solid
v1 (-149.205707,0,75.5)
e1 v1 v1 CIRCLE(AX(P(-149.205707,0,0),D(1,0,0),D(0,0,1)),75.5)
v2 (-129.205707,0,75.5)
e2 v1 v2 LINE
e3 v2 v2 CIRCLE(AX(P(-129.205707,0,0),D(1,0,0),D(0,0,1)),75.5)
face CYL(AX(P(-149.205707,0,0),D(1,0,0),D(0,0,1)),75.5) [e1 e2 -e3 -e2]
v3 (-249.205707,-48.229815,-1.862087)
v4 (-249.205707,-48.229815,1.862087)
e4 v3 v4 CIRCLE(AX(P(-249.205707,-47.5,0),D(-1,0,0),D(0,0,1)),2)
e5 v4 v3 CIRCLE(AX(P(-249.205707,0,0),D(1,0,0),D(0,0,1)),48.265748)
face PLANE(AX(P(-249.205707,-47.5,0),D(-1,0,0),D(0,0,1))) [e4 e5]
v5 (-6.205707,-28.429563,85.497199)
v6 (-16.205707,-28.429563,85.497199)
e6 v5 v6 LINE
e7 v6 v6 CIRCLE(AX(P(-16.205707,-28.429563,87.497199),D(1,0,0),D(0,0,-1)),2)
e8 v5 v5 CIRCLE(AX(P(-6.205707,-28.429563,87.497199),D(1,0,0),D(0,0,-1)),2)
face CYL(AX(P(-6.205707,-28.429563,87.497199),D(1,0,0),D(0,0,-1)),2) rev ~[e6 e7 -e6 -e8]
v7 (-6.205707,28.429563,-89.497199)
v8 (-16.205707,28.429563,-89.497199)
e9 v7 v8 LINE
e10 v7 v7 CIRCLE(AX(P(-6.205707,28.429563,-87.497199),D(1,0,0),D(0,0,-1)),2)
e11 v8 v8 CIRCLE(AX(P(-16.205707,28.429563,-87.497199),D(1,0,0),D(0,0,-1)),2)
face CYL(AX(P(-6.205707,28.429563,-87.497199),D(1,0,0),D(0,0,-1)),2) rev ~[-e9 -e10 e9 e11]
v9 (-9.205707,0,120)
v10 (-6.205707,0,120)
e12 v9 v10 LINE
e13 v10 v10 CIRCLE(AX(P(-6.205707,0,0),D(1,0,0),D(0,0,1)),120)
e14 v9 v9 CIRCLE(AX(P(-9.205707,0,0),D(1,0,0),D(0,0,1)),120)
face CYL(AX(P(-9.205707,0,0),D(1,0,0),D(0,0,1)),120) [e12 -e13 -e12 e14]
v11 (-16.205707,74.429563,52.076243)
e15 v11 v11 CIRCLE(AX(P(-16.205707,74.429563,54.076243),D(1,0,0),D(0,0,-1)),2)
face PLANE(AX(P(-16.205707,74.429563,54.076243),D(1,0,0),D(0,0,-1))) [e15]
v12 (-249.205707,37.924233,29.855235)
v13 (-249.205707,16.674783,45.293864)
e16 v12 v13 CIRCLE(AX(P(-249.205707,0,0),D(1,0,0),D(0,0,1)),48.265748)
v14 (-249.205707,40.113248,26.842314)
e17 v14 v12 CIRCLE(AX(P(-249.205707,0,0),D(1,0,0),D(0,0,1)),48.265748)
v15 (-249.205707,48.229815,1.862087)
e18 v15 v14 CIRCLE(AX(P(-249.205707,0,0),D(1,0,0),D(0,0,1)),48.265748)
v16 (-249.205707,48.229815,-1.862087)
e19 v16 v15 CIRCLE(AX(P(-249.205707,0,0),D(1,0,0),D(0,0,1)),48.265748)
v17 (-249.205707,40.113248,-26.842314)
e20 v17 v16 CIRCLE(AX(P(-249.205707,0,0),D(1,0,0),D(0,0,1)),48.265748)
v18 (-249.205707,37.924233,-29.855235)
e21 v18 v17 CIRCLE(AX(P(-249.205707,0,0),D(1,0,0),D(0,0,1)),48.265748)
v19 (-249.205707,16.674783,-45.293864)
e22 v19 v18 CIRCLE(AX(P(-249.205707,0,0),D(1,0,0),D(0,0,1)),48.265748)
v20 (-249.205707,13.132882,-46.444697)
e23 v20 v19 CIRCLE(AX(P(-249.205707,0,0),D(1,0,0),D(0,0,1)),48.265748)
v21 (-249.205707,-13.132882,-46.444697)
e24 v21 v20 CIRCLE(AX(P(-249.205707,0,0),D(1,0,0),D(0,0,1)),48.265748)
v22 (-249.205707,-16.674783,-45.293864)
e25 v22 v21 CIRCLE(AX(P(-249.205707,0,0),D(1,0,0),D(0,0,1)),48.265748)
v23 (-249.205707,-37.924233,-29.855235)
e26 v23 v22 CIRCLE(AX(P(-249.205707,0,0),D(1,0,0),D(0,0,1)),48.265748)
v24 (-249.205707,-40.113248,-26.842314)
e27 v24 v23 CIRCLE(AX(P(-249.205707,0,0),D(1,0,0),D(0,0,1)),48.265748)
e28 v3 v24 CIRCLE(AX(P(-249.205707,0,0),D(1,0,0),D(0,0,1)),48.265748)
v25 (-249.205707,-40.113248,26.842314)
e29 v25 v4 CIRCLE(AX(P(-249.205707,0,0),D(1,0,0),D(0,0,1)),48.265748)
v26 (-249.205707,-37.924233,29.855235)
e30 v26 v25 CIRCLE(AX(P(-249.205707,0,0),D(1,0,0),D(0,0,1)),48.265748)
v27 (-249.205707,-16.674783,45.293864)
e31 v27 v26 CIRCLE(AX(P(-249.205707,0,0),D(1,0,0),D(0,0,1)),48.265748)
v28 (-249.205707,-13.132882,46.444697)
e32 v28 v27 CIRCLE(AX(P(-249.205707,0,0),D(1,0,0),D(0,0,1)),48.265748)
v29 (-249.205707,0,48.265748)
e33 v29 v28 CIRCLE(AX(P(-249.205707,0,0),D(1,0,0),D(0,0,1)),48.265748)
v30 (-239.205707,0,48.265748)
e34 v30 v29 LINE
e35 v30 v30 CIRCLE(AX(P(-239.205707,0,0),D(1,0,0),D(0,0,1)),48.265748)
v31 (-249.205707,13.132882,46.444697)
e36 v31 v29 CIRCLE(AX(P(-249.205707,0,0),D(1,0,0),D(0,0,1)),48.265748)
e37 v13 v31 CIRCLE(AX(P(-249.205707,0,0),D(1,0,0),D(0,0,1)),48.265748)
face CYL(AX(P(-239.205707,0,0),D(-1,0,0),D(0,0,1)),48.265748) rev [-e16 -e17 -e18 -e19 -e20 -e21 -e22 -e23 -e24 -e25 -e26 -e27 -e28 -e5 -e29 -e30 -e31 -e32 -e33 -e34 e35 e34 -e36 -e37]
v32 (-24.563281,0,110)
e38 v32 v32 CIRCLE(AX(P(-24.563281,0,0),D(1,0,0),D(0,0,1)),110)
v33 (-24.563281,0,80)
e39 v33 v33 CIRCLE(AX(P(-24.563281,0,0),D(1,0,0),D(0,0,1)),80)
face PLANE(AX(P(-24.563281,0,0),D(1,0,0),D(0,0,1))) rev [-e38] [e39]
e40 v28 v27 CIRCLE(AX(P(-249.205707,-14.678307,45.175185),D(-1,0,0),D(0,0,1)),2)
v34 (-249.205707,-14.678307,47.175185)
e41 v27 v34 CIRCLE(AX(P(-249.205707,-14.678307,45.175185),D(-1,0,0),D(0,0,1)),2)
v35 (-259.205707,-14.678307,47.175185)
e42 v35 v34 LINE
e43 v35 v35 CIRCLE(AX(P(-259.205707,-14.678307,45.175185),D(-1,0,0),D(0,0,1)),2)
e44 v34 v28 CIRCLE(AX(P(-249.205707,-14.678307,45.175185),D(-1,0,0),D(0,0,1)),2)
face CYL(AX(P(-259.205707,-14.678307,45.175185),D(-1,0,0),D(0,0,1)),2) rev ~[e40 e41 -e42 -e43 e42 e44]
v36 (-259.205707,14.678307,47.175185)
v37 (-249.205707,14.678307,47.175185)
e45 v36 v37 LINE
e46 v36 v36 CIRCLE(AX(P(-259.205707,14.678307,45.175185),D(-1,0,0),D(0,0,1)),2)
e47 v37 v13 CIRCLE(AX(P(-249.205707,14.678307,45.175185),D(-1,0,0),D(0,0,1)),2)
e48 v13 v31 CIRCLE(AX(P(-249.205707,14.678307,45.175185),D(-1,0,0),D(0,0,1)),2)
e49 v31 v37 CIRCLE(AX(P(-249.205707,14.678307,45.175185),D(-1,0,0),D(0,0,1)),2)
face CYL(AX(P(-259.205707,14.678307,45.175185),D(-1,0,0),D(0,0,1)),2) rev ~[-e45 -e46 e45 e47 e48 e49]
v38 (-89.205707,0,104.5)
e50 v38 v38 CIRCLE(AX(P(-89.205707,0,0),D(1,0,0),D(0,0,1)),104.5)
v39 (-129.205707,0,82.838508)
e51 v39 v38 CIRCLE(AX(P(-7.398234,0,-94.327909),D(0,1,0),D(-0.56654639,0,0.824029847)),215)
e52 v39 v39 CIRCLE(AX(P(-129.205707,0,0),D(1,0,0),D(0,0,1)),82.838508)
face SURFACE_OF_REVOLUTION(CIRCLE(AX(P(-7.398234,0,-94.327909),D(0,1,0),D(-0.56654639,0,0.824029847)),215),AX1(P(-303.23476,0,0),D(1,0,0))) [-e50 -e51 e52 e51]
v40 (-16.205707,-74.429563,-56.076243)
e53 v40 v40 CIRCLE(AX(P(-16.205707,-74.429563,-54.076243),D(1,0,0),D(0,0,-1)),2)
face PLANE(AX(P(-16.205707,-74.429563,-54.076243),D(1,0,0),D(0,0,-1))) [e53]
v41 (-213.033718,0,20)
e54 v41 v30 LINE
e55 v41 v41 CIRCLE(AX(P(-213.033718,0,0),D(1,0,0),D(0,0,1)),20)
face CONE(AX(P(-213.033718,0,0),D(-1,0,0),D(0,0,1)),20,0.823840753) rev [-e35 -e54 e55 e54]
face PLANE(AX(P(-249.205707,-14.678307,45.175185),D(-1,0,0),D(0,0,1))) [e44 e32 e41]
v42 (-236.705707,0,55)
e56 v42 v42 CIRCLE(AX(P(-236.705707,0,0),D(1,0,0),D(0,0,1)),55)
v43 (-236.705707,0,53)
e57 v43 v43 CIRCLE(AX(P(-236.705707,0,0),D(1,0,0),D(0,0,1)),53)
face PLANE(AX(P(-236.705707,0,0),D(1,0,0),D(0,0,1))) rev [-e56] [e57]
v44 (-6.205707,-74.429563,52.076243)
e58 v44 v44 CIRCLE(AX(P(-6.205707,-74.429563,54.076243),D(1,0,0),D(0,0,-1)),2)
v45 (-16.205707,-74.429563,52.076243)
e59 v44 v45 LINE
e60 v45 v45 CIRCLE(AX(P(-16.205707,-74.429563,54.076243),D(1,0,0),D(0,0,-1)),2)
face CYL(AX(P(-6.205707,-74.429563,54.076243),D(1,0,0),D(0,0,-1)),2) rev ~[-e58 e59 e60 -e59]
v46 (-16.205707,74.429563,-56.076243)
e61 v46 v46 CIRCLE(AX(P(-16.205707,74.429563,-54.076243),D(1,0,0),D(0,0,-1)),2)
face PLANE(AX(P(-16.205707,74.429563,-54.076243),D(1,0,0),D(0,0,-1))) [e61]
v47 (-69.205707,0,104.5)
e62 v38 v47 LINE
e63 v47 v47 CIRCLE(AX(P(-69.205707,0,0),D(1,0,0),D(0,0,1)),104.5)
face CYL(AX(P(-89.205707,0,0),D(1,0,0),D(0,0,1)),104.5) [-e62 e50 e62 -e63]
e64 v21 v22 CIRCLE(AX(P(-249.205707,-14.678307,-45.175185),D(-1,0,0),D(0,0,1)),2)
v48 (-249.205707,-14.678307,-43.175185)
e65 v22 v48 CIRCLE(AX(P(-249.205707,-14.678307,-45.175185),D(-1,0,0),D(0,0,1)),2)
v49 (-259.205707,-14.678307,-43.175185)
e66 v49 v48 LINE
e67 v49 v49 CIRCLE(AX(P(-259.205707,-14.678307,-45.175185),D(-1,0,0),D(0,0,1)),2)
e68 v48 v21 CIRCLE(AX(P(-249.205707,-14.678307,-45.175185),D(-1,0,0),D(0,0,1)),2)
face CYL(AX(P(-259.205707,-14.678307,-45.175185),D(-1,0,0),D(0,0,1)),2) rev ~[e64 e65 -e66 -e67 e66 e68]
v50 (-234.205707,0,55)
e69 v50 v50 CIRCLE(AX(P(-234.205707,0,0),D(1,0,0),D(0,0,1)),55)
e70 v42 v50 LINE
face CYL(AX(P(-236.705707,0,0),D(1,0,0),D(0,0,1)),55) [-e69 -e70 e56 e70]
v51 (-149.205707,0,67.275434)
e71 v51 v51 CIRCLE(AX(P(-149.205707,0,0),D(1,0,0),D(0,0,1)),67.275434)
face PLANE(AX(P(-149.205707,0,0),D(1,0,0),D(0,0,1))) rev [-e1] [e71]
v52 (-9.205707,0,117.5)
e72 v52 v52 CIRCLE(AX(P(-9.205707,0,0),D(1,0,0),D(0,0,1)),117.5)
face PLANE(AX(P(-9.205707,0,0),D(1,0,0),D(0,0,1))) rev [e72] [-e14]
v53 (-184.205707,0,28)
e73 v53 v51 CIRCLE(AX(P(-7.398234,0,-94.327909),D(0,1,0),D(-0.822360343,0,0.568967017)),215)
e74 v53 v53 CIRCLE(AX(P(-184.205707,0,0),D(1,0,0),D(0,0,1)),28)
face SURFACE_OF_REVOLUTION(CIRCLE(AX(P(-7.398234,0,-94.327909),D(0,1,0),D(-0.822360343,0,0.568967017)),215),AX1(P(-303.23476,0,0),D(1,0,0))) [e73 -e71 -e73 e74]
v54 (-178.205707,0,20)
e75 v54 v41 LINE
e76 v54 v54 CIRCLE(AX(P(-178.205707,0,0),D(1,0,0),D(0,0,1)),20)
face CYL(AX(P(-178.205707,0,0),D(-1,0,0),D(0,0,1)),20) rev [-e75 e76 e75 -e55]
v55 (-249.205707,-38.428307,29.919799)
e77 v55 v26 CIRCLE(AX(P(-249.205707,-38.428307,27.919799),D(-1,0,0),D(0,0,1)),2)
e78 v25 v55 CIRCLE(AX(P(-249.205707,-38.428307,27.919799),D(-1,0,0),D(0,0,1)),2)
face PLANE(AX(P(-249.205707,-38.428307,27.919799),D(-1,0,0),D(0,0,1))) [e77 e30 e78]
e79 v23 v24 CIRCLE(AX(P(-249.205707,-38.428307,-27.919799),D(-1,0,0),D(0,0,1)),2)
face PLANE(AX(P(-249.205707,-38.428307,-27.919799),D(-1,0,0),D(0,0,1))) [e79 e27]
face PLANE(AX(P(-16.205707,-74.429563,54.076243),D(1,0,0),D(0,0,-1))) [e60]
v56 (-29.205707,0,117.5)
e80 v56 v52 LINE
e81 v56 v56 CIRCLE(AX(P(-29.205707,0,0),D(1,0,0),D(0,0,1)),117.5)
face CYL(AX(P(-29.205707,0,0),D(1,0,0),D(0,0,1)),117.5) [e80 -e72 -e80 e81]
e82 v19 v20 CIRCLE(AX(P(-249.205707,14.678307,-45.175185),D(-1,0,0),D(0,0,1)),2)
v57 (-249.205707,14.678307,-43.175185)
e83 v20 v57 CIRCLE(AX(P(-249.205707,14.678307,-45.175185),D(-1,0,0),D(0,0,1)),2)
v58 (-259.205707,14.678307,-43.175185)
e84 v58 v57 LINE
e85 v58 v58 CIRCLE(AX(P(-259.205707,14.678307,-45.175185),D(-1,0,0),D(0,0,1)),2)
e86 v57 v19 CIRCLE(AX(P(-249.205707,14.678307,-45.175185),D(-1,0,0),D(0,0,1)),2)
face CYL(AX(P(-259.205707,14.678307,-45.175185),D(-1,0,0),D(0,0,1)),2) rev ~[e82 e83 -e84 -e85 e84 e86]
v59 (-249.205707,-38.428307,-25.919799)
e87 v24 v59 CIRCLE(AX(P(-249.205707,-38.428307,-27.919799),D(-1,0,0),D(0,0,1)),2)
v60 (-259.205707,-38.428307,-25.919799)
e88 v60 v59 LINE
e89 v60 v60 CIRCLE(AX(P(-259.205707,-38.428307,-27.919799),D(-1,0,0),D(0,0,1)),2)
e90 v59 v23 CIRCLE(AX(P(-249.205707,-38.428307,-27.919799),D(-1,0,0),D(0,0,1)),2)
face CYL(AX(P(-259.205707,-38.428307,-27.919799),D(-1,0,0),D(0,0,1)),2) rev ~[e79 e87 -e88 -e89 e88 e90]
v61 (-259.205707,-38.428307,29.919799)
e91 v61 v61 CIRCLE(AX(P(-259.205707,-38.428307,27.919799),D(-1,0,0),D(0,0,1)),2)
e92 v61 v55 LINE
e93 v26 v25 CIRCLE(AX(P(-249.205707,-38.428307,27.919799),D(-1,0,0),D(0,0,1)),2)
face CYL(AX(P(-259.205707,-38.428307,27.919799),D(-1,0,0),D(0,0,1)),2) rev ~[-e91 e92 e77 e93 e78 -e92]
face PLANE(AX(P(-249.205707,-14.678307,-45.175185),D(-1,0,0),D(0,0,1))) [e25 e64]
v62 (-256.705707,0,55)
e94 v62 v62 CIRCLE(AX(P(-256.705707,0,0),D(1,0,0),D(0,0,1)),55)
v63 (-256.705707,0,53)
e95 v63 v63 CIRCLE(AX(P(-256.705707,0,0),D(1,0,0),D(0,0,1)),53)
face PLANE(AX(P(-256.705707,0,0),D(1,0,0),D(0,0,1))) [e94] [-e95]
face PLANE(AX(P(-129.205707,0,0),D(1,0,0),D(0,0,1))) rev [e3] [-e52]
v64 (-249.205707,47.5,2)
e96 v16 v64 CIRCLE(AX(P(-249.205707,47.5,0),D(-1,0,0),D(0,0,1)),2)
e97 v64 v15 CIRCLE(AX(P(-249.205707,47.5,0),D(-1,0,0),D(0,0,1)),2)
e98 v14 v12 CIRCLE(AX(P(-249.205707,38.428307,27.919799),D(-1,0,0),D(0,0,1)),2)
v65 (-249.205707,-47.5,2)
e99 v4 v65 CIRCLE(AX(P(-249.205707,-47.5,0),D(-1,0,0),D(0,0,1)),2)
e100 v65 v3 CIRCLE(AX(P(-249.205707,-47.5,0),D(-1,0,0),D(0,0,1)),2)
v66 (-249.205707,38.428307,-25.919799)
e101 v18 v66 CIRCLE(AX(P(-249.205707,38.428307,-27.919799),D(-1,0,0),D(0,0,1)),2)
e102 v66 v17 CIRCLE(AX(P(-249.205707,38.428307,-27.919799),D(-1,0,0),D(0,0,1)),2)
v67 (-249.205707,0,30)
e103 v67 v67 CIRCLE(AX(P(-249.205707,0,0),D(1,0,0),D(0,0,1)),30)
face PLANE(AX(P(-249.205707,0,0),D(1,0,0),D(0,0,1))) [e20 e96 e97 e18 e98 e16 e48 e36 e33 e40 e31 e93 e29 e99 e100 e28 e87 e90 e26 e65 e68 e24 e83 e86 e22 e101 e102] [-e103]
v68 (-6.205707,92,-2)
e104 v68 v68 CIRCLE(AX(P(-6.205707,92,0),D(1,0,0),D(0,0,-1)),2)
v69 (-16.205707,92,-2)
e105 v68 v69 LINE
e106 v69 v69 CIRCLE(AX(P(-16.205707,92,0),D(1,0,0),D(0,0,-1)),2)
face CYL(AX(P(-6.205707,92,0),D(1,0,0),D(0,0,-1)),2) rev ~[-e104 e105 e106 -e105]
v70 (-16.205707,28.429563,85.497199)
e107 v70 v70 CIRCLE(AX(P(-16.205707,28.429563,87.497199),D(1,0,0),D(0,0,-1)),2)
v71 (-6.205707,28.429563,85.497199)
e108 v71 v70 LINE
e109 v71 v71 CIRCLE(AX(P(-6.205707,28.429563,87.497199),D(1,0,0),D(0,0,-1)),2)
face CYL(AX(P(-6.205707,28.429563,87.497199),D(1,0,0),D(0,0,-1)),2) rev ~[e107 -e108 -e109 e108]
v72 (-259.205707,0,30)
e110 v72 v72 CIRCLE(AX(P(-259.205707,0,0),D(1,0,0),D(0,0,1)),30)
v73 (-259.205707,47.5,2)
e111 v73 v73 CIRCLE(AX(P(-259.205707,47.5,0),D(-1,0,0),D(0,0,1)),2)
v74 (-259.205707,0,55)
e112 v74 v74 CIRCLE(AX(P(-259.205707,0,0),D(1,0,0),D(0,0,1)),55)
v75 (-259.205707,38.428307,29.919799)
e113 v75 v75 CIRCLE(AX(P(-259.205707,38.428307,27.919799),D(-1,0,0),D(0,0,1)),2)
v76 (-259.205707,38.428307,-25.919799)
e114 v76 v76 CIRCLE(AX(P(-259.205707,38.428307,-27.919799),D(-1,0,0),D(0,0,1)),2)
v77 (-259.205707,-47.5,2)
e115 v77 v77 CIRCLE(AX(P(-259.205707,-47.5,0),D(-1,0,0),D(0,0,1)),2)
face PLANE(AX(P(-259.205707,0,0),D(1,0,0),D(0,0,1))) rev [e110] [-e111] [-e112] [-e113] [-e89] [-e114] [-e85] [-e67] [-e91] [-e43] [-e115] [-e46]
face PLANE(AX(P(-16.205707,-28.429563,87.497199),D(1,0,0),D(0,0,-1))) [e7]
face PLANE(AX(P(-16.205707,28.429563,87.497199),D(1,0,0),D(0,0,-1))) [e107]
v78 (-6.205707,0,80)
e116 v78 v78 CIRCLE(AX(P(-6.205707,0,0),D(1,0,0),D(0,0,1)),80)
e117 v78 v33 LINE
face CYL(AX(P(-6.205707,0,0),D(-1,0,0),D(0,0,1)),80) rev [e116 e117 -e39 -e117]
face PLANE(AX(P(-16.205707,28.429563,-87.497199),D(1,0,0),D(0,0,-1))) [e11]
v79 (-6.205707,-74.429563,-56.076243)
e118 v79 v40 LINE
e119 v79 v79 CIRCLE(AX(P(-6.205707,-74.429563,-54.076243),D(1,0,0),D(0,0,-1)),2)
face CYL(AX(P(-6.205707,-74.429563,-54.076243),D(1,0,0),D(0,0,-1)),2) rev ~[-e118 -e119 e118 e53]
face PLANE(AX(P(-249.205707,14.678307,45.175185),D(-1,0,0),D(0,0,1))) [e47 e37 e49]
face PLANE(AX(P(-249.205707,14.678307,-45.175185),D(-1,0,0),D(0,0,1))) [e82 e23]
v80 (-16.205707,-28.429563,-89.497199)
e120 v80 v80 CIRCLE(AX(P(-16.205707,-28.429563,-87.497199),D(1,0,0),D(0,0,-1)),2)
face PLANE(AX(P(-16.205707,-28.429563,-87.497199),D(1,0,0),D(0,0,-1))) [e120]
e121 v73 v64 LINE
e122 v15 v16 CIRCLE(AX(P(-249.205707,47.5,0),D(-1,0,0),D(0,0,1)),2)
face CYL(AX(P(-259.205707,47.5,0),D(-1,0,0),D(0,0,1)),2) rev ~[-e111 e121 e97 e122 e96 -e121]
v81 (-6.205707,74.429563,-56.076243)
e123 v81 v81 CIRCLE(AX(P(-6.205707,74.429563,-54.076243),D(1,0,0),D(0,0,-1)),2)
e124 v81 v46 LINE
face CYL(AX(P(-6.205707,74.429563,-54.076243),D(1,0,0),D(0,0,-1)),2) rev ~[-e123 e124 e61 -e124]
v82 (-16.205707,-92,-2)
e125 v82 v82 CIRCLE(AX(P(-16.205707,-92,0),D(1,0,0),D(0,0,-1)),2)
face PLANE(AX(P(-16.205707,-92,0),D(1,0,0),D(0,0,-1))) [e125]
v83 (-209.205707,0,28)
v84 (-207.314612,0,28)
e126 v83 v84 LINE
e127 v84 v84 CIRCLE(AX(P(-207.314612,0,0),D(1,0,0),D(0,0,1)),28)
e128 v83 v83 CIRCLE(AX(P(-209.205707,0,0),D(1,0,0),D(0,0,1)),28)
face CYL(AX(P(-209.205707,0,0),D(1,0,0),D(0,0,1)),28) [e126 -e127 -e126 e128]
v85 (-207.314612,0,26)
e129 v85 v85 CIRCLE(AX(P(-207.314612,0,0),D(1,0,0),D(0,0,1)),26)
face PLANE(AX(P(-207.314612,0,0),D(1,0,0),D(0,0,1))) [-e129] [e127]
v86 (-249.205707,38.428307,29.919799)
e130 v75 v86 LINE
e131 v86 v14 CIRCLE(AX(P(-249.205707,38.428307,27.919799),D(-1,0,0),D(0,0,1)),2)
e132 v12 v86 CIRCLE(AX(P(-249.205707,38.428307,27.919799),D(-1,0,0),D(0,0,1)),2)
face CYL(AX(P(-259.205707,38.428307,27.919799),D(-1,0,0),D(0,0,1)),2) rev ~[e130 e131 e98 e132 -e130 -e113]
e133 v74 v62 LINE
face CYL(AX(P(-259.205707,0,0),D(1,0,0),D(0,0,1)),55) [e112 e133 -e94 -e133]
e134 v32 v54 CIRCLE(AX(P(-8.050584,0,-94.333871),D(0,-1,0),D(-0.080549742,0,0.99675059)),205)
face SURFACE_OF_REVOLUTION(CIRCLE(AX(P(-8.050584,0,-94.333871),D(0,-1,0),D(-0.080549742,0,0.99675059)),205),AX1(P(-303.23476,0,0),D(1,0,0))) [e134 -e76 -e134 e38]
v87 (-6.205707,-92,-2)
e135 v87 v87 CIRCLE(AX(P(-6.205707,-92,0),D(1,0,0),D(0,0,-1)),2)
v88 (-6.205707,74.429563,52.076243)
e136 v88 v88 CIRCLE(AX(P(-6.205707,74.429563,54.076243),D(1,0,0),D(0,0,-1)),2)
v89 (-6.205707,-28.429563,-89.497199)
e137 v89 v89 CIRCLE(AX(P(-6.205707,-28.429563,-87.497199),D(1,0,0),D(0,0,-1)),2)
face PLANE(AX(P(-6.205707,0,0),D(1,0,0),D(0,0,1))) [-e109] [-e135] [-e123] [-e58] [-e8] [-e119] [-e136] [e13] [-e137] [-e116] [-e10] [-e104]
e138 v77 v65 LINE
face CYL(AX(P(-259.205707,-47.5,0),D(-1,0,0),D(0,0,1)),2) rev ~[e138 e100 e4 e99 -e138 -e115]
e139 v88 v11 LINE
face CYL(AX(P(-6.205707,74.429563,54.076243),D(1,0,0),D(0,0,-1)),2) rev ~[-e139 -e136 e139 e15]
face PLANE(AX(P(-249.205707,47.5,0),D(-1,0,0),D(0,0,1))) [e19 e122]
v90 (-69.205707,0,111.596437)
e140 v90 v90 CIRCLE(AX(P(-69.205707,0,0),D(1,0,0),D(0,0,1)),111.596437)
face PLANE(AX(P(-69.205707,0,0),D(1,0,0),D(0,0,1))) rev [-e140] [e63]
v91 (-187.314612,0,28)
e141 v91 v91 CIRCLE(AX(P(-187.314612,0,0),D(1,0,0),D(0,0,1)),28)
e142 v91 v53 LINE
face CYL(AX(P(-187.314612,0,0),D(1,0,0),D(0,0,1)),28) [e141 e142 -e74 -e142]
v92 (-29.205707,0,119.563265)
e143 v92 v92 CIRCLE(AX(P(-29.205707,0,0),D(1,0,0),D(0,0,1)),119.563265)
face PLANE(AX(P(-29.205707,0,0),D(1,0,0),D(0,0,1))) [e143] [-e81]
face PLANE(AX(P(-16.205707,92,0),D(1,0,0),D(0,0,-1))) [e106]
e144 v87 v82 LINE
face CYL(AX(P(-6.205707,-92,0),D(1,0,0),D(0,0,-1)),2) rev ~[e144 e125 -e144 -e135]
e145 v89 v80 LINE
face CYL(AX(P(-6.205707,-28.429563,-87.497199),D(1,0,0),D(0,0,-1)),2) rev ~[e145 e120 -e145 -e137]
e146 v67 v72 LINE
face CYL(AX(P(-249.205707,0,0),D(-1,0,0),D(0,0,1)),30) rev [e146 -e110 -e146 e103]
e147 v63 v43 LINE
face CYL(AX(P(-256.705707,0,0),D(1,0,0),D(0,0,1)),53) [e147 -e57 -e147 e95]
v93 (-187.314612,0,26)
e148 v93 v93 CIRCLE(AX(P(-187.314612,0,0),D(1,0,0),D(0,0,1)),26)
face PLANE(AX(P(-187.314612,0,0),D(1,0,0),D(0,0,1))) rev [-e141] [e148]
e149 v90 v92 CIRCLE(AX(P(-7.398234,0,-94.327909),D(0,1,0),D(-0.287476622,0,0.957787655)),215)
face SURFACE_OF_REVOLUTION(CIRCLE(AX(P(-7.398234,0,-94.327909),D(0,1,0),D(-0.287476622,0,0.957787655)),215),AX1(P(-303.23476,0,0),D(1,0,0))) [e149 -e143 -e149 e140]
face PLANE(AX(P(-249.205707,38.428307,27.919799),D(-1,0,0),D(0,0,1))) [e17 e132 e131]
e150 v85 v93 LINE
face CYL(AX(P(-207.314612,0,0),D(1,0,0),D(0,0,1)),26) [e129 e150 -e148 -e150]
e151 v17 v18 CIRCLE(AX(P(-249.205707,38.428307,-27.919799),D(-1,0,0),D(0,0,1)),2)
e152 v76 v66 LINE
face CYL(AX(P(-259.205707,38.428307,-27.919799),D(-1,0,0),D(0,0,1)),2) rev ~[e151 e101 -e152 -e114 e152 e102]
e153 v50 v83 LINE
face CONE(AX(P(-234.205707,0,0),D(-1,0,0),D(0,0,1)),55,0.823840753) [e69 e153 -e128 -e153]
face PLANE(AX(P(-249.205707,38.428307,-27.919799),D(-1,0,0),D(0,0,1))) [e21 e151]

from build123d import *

# Parameters (mm, degrees)
SKETCH3_R          = 2
CUT_EXTRUDE1_DEPTH = 10
SKETCH4_R          = 2
CUT_EXTRUDE2_DEPTH = 10


with BuildPart() as part:
    # Sketch1 → Revolve3 (revolve)
    with BuildSketch(Plane.XY, mode=Mode.PRIVATE) as revolve3_sk:
        with BuildLine():
            Line((-6.205707302, 80), (-24.563281142, 80))
            Line((-24.563281142, 80), (-24.563281142, 110))
            ThreePointArc((-24.563281142, 110), (-111.666310606, 82.552480161), (-178.205707302, 20))
            Line((-178.205707302, 20), (-213.033718137, 20))
            Line((-213.033718137, 20), (-239.205707302, 48.265748299))
            Line((-239.205707302, 48.265748299), (-249.205707302, 48.265748299))
            Line((-249.205707302, 48.265748299), (-249.205707302, 30))
            Line((-249.205707302, 30), (-259.205707302, 30))
            Line((-259.205707302, 30), (-259.205707302, 55))
            Line((-259.205707302, 55), (-256.705707302, 55))
            Line((-256.705707302, 55), (-256.705707302, 53))
            Line((-256.705707302, 53), (-236.705707302, 53))
            Line((-236.705707302, 53), (-236.705707302, 55))
            Line((-236.705707302, 55), (-234.205707302, 55))
            Line((-234.205707302, 55), (-209.205707302, 28))
            Line((-209.205707302, 28), (-207.31461189, 28))
            Line((-207.31461189, 28), (-207.31461189, 26))
            Line((-207.31461189, 26), (-187.31461189, 26))
            Line((-187.31461189, 26), (-187.31461189, 28))
            Line((-187.31461189, 28), (-184.205707302, 28))
            ThreePointArc((-184.205707302, 28), (-167.911507534, 48.712256642), (-149.205707302, 67.275434145))
            Line((-149.205707302, 67.275434145), (-149.205707302, 75.5))
            Line((-149.205707302, 75.5), (-129.205707302, 75.5))
            Line((-129.205707302, 75.5), (-129.205707302, 82.838508469))
            ThreePointArc((-129.205707302, 82.838508469), (-109.780198591, 94.730106924), (-89.205707302, 104.5))
            Line((-89.205707302, 104.5), (-69.205707302, 104.5))
            Line((-69.205707302, 104.5), (-69.205707302, 111.59643719))
            ThreePointArc((-69.205707302, 111.59643719), (-49.395048279, 116.53049781), (-29.205707302, 119.563264874))
            Line((-29.205707302, 119.563264874), (-29.205707302, 117.5))
            Line((-29.205707302, 117.5), (-9.205707302, 117.5))
            Line((-9.205707302, 117.5), (-9.205707302, 120))
            Line((-9.205707302, 120), (-6.205707302, 120))
            Line((-6.205707302, 120), (-6.205707302, 80))
        make_face()
    revolve(revolve3_sk.sketch.rotate(Axis((-303.234759745, 0, 0), (1, 0, 0)), 90), axis=Axis((-303.234759745, 0, 0), (1, 0, 0)))

    # Sketch3 → Cut-Extrude1 (cut)
    with BuildSketch(Plane(origin=(-6.205707302, 0, 0), x_dir=(0, 0, -1), z_dir=(1, 0, 0))):
        with Locations((0, 92)):
            Circle(SKETCH3_R)
        with Locations((54.076243211, 74.429563482)):
            Circle(SKETCH3_R)
        with Locations((87.497199499, 28.429563482)):
            Circle(SKETCH3_R)
        with Locations((87.497199499, -28.429563482)):
            Circle(SKETCH3_R)
        with Locations((54.076243211, -74.429563482)):
            Circle(SKETCH3_R)
        with Locations((0, -92)):
            Circle(SKETCH3_R)
        with Locations((-54.076243211, -74.429563482)):
            Circle(SKETCH3_R)
        with Locations((-87.497199499, -28.429563482)):
            Circle(SKETCH3_R)
        with Locations((-87.497199499, 28.429563482)):
            Circle(SKETCH3_R)
        with Locations((-54.076243211, 74.429563482)):
            Circle(SKETCH3_R)
    extrude(amount=-CUT_EXTRUDE1_DEPTH, mode=Mode.SUBTRACT)

    # Sketch4 → Cut-Extrude2 (cut)
    with BuildSketch(Plane.ZY.offset(259.205707302)):
        with Locations((0, 47.5)):
            Circle(SKETCH4_R)
        with Locations((27.919799484, 38.428307233)):
            Circle(SKETCH4_R)
        with Locations((45.175184524, 14.678307233)):
            Circle(SKETCH4_R)
        with Locations((45.175184524, -14.678307233)):
            Circle(SKETCH4_R)
        with Locations((27.919799484, -38.428307233)):
            Circle(SKETCH4_R)
        with Locations((0, -47.5)):
            Circle(SKETCH4_R)
        with Locations((-27.919799484, -38.428307233)):
            Circle(SKETCH4_R)
        with Locations((-45.175184524, -14.678307233)):
            Circle(SKETCH4_R)
        with Locations((-45.175184524, 14.678307233)):
            Circle(SKETCH4_R)
        with Locations((-27.919799484, 38.428307233)):
            Circle(SKETCH4_R)
    extrude(amount=-CUT_EXTRUDE2_DEPTH, mode=Mode.SUBTRACT)


solid = part.part
